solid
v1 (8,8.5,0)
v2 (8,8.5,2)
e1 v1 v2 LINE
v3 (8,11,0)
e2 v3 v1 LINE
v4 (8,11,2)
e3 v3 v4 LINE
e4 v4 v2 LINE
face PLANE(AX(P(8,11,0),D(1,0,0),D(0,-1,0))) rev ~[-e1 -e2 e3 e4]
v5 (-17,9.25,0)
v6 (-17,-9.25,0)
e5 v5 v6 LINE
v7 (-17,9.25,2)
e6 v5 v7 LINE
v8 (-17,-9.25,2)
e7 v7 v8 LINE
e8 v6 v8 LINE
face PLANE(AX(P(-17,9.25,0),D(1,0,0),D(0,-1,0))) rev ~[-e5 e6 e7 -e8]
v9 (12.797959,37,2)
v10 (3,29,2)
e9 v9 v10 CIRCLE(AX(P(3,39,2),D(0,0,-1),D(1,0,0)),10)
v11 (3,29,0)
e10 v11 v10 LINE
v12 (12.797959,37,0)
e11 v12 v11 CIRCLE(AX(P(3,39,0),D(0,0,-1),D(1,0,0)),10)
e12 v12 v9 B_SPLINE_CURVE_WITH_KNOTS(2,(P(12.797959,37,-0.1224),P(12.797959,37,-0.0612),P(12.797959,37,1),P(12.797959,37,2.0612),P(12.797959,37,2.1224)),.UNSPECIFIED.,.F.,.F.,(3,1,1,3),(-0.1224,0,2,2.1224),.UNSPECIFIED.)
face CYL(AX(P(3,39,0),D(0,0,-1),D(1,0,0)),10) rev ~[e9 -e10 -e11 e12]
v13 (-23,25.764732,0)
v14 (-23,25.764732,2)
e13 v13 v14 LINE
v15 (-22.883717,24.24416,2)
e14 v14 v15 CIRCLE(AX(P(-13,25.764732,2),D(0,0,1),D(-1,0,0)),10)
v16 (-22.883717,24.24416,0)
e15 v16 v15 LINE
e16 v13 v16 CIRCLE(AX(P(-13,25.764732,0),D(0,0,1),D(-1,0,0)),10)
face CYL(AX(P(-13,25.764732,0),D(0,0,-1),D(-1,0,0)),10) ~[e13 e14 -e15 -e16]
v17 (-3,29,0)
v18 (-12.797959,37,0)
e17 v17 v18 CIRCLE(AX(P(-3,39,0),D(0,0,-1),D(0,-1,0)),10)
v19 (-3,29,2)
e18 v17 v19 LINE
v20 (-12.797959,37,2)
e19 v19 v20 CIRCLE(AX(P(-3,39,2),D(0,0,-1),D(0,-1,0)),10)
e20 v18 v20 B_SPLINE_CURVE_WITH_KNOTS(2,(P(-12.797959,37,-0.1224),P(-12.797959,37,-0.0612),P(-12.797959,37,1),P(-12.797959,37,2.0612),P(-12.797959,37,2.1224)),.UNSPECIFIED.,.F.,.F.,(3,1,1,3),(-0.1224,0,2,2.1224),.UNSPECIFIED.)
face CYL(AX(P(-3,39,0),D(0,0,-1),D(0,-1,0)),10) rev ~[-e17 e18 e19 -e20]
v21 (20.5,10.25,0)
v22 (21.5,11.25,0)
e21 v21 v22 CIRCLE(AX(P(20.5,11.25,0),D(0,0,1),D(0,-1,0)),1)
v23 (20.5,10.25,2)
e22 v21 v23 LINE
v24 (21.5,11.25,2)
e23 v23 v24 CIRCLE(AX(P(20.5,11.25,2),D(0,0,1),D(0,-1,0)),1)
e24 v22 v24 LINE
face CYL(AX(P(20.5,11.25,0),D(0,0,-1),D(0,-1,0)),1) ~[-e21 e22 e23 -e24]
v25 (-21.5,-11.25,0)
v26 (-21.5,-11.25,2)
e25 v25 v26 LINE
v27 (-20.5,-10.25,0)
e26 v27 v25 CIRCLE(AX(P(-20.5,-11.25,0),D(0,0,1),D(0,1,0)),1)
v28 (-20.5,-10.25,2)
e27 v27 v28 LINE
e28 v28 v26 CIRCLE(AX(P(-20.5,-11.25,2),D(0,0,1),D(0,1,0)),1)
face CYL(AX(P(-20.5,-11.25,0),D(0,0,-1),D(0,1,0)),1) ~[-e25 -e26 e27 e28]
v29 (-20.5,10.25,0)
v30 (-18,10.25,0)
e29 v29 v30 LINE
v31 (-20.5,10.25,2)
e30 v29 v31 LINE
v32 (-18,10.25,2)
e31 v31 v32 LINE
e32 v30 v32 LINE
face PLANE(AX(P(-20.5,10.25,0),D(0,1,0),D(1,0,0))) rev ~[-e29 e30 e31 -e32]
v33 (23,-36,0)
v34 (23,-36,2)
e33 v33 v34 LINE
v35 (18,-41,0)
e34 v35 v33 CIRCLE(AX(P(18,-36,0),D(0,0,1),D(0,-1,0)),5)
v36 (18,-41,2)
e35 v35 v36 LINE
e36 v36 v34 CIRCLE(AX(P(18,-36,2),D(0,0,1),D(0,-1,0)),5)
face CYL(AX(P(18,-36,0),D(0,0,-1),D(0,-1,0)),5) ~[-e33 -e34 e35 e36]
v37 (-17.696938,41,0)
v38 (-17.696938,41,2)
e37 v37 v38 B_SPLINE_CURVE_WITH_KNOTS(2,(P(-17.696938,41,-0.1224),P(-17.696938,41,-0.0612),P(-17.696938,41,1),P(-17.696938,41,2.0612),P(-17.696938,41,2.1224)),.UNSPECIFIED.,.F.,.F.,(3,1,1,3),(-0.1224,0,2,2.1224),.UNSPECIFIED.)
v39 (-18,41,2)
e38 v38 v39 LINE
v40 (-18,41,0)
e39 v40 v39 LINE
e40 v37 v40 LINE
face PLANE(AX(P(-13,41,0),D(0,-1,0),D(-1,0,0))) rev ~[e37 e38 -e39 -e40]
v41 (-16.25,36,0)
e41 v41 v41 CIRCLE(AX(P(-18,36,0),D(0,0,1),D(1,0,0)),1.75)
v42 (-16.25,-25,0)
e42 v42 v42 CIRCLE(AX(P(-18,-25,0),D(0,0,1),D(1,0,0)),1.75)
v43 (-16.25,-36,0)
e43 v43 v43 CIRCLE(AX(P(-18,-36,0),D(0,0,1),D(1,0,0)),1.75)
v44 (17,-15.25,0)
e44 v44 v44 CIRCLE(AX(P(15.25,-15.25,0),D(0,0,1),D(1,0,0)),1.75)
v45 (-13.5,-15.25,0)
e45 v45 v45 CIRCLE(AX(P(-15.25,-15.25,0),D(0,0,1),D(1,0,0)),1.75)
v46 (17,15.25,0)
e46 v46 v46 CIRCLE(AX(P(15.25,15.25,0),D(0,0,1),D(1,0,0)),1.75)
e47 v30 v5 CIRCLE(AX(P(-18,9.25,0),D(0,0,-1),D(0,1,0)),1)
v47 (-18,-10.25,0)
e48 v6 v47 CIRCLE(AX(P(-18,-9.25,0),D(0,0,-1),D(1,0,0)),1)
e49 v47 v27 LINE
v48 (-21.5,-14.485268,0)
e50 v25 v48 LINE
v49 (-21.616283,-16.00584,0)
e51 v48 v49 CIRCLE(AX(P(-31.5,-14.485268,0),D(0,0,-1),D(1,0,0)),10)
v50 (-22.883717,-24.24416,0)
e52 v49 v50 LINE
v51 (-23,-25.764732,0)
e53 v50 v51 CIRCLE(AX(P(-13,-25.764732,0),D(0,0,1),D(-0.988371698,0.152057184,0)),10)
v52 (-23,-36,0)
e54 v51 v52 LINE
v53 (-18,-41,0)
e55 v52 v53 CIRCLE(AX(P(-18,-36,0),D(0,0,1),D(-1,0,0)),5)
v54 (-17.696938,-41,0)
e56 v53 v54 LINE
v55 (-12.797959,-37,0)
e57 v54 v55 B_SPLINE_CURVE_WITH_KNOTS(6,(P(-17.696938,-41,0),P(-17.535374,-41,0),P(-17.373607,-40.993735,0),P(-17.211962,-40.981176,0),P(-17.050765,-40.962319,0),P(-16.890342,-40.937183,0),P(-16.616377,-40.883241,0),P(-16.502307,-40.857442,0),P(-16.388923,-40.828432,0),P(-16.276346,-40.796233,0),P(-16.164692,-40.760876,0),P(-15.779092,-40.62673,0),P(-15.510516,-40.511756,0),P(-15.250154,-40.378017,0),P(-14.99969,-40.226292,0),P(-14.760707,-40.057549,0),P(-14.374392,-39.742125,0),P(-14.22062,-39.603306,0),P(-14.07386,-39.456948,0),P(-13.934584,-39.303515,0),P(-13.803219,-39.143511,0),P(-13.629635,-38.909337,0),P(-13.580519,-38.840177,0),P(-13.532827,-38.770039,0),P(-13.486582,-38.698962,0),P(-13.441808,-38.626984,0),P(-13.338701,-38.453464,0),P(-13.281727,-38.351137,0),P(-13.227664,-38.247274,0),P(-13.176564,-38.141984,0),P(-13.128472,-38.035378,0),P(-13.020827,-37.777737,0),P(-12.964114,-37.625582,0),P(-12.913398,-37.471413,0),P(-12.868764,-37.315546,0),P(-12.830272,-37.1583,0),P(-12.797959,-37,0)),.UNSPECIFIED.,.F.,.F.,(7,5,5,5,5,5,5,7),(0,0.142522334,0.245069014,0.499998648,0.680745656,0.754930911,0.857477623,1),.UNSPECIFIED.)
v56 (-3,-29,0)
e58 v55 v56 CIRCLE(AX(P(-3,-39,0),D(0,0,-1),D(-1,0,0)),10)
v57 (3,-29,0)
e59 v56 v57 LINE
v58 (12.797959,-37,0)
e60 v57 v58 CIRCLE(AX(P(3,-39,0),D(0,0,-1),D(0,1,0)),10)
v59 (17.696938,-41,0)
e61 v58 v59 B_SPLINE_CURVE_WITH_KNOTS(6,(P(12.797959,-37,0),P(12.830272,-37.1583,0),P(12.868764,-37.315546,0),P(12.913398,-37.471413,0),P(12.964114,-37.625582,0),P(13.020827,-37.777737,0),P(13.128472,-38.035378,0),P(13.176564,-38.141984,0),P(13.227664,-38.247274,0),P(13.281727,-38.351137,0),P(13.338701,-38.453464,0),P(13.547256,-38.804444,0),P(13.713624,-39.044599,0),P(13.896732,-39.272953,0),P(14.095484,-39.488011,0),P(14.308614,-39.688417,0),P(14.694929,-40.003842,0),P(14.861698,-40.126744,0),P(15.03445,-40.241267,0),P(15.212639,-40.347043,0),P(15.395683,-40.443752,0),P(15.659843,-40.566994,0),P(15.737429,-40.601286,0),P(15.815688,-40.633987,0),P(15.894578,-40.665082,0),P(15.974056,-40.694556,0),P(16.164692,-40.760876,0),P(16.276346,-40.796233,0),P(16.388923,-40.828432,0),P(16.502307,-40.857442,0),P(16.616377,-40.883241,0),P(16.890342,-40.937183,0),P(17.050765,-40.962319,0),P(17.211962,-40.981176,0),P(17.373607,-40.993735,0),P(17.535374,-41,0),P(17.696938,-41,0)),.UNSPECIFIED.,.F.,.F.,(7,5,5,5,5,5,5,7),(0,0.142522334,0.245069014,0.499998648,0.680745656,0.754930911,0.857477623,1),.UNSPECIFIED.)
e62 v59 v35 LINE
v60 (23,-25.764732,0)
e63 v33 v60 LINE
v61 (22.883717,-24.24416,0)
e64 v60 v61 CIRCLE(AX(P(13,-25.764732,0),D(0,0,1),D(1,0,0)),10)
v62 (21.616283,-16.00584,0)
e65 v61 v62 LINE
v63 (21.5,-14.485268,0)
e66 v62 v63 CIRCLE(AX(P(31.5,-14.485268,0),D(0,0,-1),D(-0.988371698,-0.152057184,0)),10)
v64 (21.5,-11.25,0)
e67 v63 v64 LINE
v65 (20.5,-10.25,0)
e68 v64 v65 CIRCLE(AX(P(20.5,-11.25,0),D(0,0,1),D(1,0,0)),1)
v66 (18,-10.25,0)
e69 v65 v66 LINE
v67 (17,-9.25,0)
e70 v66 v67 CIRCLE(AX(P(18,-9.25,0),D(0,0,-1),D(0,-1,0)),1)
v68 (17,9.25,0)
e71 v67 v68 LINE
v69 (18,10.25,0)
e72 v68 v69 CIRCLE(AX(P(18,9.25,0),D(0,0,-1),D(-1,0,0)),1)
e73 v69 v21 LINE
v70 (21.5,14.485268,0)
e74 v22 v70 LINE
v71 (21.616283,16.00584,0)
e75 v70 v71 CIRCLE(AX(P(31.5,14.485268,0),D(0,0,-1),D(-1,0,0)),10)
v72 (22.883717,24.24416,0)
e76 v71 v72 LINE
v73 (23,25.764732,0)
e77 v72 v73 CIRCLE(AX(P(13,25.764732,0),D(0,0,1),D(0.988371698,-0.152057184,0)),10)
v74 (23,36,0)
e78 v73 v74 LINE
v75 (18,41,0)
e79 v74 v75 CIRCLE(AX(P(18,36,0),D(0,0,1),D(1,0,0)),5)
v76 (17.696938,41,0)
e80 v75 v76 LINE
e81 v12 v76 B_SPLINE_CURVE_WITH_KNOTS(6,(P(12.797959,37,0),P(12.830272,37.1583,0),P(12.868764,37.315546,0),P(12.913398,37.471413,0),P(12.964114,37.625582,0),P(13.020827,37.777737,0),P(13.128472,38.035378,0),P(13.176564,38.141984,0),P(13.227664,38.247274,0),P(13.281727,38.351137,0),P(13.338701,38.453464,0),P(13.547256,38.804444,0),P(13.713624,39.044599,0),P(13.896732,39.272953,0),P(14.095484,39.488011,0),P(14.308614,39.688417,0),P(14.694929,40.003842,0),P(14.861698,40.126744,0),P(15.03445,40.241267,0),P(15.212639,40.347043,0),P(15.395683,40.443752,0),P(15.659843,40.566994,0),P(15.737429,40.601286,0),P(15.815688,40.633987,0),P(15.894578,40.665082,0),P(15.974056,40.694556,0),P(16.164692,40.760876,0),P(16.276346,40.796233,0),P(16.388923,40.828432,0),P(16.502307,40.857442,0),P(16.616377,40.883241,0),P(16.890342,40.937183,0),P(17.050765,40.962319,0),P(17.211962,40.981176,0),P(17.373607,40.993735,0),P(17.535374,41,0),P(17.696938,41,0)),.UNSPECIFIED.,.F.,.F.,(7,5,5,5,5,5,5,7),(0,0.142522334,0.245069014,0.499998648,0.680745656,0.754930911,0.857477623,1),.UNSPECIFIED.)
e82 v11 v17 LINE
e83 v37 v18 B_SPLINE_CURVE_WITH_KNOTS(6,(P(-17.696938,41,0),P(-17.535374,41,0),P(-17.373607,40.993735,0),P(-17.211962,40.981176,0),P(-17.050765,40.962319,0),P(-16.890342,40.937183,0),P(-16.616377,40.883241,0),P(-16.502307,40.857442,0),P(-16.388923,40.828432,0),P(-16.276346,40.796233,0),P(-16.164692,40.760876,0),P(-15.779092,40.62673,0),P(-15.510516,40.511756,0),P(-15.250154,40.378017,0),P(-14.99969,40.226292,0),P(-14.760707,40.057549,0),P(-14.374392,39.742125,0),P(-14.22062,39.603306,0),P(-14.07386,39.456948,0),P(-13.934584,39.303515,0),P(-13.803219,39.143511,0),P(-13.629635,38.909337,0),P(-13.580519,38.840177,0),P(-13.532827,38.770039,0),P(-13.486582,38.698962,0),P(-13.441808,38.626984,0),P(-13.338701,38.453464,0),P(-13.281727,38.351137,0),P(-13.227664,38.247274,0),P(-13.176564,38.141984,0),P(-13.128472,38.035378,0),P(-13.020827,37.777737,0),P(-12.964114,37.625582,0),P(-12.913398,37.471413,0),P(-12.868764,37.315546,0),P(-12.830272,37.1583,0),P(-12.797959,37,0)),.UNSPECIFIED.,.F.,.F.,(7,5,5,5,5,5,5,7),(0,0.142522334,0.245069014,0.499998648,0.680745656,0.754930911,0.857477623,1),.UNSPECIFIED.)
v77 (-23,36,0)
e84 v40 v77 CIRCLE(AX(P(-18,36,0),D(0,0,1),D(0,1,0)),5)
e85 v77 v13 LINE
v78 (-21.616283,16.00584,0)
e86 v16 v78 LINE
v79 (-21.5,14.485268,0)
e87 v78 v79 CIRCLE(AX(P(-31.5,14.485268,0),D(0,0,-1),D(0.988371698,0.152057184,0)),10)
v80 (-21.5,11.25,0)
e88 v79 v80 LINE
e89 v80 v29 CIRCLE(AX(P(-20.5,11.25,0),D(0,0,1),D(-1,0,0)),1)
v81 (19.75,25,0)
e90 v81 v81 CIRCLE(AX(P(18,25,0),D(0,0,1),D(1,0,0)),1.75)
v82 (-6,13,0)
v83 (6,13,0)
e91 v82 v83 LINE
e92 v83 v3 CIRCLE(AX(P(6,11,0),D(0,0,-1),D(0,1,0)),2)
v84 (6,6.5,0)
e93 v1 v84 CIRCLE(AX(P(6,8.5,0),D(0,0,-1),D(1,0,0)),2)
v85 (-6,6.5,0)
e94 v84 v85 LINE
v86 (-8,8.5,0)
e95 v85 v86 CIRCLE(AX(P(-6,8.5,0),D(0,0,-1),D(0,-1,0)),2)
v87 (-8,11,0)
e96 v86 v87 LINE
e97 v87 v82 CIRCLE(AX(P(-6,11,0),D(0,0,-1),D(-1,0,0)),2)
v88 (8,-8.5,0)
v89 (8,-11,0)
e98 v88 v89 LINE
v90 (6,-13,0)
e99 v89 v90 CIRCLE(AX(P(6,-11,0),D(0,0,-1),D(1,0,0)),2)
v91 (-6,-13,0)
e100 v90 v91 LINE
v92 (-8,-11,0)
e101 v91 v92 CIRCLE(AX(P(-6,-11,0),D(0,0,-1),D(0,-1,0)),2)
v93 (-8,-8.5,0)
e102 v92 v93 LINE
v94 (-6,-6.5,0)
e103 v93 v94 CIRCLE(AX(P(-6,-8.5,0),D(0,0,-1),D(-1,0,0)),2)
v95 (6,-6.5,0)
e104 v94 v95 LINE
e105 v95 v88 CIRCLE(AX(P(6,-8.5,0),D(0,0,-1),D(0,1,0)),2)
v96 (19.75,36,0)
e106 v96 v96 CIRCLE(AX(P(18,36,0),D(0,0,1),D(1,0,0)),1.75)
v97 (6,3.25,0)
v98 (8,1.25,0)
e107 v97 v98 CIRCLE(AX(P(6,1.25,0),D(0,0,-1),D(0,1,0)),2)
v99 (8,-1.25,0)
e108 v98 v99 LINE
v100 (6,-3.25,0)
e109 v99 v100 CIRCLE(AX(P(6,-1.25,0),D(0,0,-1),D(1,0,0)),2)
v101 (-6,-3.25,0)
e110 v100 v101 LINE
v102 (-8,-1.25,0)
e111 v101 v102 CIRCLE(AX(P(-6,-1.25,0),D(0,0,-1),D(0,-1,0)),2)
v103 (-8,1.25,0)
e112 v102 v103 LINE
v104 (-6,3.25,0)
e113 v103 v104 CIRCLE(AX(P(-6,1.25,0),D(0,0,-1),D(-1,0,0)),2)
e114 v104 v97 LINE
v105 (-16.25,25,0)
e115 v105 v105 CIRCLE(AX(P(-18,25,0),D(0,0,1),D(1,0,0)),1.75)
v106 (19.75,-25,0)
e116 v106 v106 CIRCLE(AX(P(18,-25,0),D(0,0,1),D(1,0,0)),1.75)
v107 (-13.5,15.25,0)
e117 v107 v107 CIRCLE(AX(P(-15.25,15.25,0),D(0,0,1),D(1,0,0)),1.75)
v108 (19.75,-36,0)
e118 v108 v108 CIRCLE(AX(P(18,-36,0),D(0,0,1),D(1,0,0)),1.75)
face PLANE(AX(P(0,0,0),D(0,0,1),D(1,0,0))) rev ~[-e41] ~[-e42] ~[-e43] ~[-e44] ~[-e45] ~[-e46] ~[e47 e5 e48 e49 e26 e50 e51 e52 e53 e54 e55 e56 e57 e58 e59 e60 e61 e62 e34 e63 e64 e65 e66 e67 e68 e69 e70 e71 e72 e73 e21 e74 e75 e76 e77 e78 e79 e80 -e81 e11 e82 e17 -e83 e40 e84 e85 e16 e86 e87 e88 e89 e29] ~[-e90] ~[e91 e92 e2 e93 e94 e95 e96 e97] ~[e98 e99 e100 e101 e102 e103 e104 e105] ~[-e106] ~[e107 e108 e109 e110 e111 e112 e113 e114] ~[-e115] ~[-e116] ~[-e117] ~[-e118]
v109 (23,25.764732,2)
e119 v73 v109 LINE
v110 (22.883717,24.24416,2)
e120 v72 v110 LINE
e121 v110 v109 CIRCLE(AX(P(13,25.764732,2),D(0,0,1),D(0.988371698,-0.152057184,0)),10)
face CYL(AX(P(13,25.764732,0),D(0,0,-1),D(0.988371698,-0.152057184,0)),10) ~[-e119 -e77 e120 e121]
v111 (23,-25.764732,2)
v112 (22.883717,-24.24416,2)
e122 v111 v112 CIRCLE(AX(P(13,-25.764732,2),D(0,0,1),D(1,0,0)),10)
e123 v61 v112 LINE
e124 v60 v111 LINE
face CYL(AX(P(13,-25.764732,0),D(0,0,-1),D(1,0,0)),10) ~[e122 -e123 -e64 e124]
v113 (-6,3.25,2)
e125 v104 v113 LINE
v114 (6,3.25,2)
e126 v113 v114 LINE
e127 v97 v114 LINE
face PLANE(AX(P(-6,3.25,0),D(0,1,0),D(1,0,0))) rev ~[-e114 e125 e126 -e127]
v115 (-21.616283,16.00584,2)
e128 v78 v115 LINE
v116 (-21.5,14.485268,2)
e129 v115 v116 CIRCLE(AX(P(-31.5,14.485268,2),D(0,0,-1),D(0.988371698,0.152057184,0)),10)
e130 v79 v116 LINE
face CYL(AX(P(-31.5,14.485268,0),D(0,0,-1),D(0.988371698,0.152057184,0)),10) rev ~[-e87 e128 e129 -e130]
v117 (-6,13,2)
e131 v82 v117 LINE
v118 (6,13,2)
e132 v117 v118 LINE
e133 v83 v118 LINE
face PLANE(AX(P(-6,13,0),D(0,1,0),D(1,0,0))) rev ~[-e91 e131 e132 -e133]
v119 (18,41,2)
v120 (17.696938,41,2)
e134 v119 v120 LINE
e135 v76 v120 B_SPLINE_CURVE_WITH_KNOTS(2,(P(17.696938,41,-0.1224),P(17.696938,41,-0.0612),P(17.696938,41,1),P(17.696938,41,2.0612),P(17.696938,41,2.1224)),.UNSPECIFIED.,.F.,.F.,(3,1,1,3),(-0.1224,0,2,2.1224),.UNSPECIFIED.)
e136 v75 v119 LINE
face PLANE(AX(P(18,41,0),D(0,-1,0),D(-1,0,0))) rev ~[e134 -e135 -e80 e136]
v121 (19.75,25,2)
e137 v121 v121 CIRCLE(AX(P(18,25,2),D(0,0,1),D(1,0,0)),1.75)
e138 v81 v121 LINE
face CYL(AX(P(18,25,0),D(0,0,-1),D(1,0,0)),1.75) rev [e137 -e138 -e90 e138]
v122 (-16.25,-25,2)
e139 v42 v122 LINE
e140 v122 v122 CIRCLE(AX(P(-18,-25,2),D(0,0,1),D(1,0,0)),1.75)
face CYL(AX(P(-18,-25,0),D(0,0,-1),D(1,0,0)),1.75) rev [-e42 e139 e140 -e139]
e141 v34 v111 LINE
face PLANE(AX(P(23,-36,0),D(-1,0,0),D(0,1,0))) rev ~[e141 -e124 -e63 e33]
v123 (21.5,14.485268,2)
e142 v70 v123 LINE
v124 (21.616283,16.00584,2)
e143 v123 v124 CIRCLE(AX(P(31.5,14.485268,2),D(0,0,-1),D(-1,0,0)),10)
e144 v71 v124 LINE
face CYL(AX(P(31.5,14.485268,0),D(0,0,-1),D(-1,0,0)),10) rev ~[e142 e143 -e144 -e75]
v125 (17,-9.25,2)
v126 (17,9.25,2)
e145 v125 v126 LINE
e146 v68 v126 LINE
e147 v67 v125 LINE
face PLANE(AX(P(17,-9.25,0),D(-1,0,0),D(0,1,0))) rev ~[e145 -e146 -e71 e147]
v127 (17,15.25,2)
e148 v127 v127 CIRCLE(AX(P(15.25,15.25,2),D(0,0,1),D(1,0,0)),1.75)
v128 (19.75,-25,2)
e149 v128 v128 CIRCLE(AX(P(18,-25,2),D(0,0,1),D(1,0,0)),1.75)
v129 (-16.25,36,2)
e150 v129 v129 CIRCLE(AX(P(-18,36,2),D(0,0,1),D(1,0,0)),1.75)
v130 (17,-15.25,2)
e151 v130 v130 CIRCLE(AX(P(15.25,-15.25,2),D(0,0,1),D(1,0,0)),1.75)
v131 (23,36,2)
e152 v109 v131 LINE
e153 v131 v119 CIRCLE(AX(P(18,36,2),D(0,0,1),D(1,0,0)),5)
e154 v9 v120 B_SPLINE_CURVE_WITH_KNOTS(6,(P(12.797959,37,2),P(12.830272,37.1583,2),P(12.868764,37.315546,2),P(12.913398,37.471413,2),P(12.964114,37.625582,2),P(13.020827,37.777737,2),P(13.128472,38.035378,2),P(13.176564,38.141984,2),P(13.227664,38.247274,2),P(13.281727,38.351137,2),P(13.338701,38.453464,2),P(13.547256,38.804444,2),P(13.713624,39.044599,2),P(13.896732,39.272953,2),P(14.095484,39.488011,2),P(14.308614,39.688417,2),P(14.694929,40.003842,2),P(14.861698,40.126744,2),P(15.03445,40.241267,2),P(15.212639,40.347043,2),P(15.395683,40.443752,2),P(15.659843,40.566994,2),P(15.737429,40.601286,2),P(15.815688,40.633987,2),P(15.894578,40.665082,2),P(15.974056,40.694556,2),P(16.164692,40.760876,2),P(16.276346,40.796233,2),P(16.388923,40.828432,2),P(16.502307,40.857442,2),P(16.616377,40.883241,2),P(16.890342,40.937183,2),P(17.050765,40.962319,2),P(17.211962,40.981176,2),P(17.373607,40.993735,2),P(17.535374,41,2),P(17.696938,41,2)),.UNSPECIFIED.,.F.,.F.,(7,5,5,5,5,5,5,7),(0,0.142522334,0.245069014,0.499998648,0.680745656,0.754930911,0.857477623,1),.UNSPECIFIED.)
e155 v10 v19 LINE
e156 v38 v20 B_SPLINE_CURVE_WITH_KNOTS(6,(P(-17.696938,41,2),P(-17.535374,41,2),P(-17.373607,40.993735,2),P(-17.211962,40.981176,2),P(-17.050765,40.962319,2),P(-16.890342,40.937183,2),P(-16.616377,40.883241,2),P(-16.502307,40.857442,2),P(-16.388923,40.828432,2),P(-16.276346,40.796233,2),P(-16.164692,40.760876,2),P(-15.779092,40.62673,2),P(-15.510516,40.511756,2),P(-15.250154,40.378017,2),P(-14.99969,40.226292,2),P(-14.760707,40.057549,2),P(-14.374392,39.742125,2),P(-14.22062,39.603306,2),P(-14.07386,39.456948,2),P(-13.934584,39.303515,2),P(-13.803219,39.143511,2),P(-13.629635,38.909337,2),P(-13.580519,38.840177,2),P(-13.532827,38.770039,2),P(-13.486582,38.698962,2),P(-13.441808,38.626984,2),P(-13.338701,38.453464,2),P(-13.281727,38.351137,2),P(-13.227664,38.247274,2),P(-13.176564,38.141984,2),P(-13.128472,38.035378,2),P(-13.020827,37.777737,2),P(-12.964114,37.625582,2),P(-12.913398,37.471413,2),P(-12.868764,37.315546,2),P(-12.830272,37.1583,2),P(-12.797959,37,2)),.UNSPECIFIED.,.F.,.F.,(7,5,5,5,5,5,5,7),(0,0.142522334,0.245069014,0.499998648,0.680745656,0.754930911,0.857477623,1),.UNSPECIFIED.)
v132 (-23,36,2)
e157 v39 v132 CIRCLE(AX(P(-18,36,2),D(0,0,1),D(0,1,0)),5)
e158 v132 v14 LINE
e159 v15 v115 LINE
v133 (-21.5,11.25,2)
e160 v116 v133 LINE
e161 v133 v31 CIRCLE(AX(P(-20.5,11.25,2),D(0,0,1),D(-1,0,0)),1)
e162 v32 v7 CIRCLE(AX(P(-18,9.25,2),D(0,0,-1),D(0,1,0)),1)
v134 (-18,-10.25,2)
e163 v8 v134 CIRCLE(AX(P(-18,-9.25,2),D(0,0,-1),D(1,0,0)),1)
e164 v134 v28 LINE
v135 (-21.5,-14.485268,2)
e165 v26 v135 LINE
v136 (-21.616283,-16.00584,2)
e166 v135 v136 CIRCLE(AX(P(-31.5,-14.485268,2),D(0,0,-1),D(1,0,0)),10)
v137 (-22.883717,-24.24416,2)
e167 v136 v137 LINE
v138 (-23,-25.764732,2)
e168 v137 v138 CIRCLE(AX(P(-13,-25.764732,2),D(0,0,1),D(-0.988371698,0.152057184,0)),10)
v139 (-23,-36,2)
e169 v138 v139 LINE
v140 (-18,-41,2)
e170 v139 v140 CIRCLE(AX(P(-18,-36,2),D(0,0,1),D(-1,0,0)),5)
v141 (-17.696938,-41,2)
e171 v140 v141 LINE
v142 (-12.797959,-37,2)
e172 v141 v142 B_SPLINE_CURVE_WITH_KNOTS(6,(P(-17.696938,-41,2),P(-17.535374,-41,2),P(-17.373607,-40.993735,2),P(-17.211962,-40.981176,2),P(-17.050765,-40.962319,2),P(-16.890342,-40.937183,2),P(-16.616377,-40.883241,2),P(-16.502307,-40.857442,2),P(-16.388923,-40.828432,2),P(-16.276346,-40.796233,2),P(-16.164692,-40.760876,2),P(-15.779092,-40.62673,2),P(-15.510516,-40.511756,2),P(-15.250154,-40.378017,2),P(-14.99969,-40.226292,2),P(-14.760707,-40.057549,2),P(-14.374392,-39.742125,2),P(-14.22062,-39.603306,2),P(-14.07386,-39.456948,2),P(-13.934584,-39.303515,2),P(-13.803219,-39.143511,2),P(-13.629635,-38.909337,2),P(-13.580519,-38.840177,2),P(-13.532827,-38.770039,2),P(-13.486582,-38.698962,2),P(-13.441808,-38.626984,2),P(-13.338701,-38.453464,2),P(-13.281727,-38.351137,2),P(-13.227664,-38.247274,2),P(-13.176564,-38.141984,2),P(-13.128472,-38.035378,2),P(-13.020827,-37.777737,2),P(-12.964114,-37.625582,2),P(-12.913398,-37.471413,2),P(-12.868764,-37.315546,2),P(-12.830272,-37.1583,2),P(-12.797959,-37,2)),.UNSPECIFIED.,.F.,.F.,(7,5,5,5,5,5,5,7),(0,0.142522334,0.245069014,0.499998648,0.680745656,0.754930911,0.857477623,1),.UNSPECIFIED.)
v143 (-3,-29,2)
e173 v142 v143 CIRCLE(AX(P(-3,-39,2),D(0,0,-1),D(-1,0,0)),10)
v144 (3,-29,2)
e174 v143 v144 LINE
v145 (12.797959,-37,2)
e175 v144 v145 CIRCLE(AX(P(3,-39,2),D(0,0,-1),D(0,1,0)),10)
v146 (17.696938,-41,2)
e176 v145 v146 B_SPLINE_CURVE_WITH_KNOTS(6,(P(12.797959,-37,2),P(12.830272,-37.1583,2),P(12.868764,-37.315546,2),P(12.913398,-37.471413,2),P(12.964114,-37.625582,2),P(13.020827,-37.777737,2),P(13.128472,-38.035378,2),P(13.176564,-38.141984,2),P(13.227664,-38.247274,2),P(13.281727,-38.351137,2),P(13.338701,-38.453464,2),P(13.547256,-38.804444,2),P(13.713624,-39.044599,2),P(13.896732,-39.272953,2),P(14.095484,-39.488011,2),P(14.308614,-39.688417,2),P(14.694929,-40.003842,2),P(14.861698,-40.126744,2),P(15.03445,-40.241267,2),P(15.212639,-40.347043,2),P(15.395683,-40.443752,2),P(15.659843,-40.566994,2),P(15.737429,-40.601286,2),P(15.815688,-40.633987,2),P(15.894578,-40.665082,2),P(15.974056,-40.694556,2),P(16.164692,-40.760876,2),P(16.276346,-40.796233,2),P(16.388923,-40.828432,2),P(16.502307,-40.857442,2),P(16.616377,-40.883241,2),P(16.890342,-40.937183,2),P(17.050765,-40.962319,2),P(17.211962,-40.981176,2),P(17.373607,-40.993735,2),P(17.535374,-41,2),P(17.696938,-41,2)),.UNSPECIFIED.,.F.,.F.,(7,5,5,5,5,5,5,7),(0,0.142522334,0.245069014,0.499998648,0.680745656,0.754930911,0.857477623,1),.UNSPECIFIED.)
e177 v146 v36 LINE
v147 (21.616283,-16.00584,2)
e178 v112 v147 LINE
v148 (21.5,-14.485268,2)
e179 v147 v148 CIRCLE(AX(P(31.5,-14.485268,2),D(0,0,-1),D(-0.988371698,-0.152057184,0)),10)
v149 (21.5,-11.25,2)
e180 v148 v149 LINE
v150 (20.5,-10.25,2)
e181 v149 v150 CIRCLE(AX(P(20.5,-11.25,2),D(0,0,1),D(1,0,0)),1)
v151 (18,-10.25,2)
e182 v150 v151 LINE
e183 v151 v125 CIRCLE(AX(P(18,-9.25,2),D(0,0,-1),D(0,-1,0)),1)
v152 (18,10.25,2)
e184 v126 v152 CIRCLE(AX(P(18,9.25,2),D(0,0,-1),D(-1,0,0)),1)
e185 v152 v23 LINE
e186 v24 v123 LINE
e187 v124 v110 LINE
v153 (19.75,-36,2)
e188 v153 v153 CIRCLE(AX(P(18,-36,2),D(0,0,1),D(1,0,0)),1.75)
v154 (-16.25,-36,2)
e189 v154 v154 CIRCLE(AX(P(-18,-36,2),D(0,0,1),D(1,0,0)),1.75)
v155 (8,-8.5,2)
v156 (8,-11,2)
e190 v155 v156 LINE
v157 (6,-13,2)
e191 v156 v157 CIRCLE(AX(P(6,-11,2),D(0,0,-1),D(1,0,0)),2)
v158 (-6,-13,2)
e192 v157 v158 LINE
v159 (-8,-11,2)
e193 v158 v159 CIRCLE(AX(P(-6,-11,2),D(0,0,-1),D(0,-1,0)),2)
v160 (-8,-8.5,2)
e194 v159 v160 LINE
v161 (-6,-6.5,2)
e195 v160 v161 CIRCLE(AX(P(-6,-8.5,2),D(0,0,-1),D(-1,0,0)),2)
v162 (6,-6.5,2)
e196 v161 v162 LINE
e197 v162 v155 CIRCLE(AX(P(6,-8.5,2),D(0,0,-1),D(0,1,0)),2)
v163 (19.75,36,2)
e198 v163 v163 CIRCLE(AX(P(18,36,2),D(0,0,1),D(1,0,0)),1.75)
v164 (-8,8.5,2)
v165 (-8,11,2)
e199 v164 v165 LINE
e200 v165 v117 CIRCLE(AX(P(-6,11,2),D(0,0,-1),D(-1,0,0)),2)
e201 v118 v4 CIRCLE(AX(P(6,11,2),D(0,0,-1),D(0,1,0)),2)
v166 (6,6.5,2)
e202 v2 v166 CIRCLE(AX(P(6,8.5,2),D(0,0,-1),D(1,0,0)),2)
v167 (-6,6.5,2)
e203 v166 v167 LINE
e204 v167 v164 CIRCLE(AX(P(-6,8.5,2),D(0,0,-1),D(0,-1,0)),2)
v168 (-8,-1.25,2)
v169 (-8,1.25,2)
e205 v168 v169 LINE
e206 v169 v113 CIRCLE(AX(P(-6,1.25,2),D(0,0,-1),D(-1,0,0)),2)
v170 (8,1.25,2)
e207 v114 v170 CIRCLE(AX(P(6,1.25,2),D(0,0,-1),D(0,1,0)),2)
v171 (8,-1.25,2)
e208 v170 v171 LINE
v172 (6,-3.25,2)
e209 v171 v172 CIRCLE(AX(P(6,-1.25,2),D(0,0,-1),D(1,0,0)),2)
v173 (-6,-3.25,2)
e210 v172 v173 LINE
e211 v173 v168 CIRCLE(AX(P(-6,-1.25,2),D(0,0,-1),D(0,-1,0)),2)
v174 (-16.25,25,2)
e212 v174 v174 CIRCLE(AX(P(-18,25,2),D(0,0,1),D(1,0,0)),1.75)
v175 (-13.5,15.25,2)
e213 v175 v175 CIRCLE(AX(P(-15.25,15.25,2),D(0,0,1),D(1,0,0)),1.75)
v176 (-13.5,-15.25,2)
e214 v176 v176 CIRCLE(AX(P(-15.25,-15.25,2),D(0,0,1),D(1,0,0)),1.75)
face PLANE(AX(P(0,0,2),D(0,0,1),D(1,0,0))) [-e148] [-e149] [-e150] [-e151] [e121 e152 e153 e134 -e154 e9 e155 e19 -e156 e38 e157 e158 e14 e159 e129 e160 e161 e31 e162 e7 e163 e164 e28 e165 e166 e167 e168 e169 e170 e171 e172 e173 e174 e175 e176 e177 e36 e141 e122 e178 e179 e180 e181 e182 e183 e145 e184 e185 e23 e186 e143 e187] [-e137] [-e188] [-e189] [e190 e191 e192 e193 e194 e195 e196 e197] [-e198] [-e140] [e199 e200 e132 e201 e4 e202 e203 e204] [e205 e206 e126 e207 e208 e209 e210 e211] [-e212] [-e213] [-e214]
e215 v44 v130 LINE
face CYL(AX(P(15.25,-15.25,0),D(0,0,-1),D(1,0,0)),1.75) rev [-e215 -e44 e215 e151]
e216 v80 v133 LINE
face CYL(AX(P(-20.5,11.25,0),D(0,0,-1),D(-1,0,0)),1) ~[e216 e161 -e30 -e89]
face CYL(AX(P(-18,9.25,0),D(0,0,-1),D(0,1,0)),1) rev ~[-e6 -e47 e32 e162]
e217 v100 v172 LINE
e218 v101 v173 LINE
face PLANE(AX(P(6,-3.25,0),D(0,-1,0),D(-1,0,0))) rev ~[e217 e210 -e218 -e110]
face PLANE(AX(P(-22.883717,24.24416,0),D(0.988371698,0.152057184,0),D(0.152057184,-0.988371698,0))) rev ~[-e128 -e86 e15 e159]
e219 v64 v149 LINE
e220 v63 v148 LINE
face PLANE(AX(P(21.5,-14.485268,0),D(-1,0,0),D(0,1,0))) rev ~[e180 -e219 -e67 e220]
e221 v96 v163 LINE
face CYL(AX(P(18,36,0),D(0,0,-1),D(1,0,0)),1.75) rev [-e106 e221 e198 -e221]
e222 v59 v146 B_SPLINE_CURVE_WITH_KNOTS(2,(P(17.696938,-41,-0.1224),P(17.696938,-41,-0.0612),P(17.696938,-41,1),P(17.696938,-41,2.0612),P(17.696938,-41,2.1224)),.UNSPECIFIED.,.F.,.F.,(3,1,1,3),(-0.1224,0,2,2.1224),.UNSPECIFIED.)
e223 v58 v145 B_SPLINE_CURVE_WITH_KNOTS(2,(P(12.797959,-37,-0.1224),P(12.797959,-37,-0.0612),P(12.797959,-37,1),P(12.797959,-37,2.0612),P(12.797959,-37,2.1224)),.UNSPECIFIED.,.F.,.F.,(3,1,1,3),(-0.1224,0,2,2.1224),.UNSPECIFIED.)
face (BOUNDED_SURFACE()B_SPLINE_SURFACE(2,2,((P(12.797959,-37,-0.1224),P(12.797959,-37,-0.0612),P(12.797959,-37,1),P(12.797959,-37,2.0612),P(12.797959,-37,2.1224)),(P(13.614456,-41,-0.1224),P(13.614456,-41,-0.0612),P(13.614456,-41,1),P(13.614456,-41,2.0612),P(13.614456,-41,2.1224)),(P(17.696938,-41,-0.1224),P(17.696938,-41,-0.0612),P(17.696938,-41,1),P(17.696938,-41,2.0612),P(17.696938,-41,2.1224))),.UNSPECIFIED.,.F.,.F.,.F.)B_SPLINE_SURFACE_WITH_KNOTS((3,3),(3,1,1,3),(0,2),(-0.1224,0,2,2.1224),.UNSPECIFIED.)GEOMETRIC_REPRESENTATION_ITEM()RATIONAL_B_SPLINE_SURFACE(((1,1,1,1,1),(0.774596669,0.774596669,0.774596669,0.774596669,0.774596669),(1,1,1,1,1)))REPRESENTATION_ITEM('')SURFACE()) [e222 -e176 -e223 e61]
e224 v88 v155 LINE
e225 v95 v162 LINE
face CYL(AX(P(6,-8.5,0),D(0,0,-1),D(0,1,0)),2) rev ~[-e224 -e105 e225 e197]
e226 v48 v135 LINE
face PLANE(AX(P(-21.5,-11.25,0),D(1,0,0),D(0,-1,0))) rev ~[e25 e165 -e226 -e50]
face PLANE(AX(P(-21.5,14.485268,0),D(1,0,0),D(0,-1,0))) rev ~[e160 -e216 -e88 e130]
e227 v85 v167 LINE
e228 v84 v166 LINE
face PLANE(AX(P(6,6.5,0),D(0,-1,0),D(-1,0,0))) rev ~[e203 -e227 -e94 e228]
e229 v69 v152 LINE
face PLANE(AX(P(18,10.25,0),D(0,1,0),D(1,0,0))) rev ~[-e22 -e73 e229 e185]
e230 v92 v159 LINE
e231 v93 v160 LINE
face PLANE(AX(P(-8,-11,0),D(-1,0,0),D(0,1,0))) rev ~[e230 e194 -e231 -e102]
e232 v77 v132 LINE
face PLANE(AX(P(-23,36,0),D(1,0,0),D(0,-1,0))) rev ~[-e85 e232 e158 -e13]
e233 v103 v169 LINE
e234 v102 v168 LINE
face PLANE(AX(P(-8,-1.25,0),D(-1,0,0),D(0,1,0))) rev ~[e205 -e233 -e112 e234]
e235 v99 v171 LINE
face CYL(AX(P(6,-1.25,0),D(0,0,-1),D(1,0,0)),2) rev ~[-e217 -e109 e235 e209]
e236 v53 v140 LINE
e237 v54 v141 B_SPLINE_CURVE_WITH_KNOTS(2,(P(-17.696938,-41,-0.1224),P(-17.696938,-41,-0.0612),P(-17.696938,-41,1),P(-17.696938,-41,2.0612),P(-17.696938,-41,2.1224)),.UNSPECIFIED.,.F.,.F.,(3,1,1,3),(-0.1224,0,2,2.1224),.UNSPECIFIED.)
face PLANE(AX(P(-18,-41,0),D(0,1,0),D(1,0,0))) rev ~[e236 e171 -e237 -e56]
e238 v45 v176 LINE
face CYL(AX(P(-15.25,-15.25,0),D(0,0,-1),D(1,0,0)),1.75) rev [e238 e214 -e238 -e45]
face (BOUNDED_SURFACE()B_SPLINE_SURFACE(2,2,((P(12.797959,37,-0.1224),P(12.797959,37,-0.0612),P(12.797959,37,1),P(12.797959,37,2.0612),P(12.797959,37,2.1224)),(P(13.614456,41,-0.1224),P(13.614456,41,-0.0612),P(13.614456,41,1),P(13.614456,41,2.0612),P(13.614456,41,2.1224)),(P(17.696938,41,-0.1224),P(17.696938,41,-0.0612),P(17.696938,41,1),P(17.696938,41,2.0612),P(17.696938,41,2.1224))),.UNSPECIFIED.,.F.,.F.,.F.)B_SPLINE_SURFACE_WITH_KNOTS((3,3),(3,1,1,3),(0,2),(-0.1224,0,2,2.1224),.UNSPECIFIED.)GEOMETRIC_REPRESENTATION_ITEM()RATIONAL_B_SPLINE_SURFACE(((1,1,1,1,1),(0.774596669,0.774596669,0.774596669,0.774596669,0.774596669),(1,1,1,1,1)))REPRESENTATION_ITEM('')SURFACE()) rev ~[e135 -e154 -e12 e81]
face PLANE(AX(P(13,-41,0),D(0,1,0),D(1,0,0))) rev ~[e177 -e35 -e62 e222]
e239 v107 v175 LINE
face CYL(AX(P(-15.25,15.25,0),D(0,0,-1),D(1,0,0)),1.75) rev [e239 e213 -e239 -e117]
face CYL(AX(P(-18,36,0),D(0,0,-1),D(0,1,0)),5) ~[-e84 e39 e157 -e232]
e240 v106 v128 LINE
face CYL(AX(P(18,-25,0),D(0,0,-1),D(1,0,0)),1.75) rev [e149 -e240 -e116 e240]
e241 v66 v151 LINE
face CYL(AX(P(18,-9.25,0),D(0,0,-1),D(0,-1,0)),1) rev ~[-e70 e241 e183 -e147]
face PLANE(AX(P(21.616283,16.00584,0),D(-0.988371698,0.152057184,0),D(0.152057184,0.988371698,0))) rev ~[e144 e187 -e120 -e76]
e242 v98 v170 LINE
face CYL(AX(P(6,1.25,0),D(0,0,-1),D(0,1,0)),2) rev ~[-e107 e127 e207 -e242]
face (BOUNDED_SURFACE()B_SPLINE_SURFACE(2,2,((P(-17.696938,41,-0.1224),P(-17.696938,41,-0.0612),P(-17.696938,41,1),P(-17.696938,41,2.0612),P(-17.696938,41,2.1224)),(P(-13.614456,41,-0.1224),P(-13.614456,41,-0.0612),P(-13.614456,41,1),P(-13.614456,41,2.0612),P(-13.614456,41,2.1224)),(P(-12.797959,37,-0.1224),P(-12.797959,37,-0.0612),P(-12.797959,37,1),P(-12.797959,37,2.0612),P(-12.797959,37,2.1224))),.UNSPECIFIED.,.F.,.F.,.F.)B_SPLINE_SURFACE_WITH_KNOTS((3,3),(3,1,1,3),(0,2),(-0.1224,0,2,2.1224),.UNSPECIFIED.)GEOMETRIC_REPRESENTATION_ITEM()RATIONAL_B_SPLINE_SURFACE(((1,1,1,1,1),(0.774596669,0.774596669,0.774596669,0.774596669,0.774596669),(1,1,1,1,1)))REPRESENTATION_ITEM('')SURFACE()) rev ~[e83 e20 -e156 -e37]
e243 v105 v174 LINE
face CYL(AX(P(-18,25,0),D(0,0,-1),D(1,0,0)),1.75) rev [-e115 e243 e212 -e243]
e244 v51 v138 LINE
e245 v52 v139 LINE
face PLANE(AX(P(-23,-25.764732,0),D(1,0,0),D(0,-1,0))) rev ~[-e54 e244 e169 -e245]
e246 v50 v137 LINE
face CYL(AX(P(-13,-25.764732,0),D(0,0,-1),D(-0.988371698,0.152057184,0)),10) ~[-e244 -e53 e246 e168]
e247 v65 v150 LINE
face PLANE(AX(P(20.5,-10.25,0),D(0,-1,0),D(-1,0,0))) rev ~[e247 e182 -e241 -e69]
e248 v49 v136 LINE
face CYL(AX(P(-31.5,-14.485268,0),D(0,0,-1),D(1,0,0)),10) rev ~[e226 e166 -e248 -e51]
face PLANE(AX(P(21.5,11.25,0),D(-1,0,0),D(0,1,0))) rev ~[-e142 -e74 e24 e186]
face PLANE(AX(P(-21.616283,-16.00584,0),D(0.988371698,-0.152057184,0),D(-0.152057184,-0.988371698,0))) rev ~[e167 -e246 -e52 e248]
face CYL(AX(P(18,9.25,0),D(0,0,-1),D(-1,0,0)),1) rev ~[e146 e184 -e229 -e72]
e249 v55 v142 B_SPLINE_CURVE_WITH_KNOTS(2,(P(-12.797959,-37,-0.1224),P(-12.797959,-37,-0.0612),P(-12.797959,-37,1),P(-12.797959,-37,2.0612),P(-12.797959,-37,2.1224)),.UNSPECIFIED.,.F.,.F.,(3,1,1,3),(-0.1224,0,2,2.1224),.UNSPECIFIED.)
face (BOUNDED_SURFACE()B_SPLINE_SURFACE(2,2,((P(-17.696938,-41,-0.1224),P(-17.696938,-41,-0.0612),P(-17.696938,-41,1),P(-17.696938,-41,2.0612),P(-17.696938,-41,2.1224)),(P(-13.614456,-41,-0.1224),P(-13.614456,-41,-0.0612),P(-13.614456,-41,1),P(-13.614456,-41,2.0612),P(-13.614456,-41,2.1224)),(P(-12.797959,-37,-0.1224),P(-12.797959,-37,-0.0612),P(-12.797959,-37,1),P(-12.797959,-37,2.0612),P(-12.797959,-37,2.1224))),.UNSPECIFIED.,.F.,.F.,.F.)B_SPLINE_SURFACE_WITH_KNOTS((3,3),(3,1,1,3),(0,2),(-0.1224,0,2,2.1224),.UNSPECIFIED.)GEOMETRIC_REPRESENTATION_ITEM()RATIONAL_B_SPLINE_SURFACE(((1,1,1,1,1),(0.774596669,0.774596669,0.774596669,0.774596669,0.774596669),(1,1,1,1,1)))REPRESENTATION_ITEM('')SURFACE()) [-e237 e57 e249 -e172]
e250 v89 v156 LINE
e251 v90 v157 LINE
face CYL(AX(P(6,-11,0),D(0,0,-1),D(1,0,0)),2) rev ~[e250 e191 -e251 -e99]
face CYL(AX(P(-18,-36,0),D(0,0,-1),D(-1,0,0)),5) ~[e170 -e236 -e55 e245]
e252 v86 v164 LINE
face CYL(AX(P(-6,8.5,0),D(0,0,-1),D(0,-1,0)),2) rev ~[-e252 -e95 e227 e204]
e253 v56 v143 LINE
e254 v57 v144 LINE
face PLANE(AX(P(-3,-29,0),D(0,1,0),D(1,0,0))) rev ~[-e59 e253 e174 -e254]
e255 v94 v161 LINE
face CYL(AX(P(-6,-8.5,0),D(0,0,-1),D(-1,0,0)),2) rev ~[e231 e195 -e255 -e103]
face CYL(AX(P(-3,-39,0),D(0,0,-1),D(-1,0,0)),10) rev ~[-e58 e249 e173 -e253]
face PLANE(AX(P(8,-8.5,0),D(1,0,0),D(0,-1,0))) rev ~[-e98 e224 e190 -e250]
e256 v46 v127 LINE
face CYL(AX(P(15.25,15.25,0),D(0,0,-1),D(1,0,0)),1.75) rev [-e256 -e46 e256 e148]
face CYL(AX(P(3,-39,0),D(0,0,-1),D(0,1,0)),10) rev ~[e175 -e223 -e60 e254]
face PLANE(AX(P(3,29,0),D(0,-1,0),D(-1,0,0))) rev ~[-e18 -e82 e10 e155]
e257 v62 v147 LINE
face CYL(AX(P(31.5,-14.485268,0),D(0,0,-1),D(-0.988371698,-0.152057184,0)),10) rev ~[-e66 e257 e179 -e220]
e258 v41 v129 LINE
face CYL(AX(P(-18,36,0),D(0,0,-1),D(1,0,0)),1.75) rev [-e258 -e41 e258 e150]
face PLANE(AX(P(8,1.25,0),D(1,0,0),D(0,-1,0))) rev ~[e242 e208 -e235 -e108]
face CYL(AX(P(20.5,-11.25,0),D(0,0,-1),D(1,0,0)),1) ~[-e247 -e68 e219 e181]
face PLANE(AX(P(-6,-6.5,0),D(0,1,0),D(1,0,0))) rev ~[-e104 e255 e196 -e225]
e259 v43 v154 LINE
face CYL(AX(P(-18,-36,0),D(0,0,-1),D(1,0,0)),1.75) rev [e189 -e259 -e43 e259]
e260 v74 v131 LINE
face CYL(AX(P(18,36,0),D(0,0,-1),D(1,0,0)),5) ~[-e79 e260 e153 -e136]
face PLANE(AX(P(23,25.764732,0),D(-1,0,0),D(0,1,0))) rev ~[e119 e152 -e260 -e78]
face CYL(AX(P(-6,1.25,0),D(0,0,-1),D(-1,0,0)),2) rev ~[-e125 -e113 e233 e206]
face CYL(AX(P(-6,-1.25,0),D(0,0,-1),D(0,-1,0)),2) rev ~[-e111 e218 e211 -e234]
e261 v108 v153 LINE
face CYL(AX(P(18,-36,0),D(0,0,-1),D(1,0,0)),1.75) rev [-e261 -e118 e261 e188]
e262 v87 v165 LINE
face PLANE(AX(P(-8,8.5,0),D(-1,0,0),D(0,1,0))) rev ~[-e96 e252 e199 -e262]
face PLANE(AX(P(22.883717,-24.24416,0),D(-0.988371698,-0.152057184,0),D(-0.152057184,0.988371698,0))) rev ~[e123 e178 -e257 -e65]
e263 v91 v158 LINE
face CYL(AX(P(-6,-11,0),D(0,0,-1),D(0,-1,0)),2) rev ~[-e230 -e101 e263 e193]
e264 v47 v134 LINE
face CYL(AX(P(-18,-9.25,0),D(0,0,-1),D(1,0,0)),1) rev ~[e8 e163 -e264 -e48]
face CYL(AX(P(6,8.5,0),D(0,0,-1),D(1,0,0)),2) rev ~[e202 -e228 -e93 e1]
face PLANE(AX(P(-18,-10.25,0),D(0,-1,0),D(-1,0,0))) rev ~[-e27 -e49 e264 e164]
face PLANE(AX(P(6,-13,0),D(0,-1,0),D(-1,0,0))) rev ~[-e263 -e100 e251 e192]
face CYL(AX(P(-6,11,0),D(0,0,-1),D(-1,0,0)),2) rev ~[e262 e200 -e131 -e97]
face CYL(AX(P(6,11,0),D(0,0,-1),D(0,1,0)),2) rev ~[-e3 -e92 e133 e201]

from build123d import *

# Parameters (mm, degrees)
F0_R     = 1.75
F1_DEPTH = 2
F2_R     = 5


with BuildPart() as f1:
    # F0 (on Top) → F1 (new body)
    with BuildSketch(Plane.XY):
        with BuildLine():
            Line((-13, 41), (-18, 41))
            ThreePointArc((-18, 41), (-21.5355339059, 39.5355339059), (-23, 36))
            Line((-23, 36), (-23, 25.7647321898))
            ThreePointArc((-23, 25.7647321898), (-22.9708868654, 25.0022263751), (-22.8837169765, 24.2441603473))
            Line((-22.8837169765, 24.2441603473), (-21.6162830235, 16.0058396527))
            ThreePointArc((-21.6162830235, 16.0058396527), (-21.5291131346, 15.2477736249), (-21.5, 14.4852678102))
            Line((-21.5, 14.4852678102), (-21.5, 11.25))
            ThreePointArc((-21.5, 11.25), (-21.2071067812, 10.5428932188), (-20.5, 10.25))
            Line((-20.5, 10.25), (-18, 10.25))
            ThreePointArc((-18, 10.25), (-17.2928932188, 9.9571067812), (-17, 9.25))
            Line((-17, 9.25), (-17, -9.25))
            ThreePointArc((-17, -9.25), (-17.2928932188, -9.9571067812), (-18, -10.25))
            Line((-18, -10.25), (-20.5, -10.25))
            ThreePointArc((-20.5, -10.25), (-21.2071067812, -10.5428932188), (-21.5, -11.25))
            Line((-21.5, -11.25), (-21.5, -14.4852678102))
            ThreePointArc((-21.5, -14.4852678102), (-21.5291131346, -15.2477736249), (-21.6162830235, -16.0058396527))
            Line((-21.6162830235, -16.0058396527), (-22.8837169765, -24.2441603473))
            ThreePointArc((-22.8837169765, -24.2441603473), (-22.9708868654, -25.0022263751), (-23, -25.7647321898))
            Line((-23, -25.7647321898), (-23, -36))
            ThreePointArc((-23, -36), (-21.5355339059, -39.5355339059), (-18, -41))
            Line((-18, -41), (-13, -41))
            Line((-13, -41), (-13, -39))
            ThreePointArc((-13, -39), (-10.0710678119, -31.9289321881), (-3, -29))
            Line((-3, -29), (0, -29))
            Line((0, -29), (3, -29))
            ThreePointArc((3, -29), (10.0710678119, -31.9289321881), (13, -39))
            Line((13, -39), (13, -41))
            Line((13, -41), (18, -41))
            ThreePointArc((18, -41), (21.5355339059, -39.5355339059), (23, -36))
            Line((23, -36), (23, -25.7647321898))
            ThreePointArc((23, -25.7647321898), (22.9708868654, -25.0022263751), (22.8837169765, -24.2441603473))
            Line((22.8837169765, -24.2441603473), (21.6162830235, -16.0058396527))
            ThreePointArc((21.6162830235, -16.0058396527), (21.5291131346, -15.2477736249), (21.5, -14.4852678102))
            Line((21.5, -14.4852678102), (21.5, -11.25))
            ThreePointArc((21.5, -11.25), (21.2071067812, -10.5428932188), (20.5, -10.25))
            Line((20.5, -10.25), (18, -10.25))
            ThreePointArc((18, -10.25), (17.2928932188, -9.9571067812), (17, -9.25))
            Line((17, -9.25), (17, 9.25))
            ThreePointArc((17, 9.25), (17.2928932188, 9.9571067812), (18, 10.25))
            Line((18, 10.25), (20.5, 10.25))
            ThreePointArc((20.5, 10.25), (21.2071067812, 10.5428932188), (21.5, 11.25))
            Line((21.5, 11.25), (21.5, 14.4852678102))
            ThreePointArc((21.5, 14.4852678102), (21.5291131346, 15.2477736249), (21.6162830235, 16.0058396527))
            Line((21.6162830235, 16.0058396527), (22.8837169765, 24.2441603473))
            ThreePointArc((22.8837169765, 24.2441603473), (22.9708868654, 25.0022263751), (23, 25.7647321898))
            Line((23, 25.7647321898), (23, 36))
            ThreePointArc((23, 36), (21.5355339059, 39.5355339059), (18, 41))
            Line((18, 41), (13, 41))
            Line((13, 41), (13, 39))
            ThreePointArc((13, 39), (10.0710678119, 31.9289321881), (3, 29))
            Line((3, 29), (0, 29))
            Line((0, 29), (-3, 29))
            ThreePointArc((-3, 29), (-10.0710678119, 31.9289321881), (-13, 39))
            Line((-13, 39), (-13, 41))
        make_face()
        with Locations((-18, -36)):
            Circle(F0_R, mode=Mode.SUBTRACT)
        with Locations((-18, -25)):
            Circle(F0_R, mode=Mode.SUBTRACT)
        with Locations((-15.25, -15.25)):
            Circle(F0_R, mode=Mode.SUBTRACT)
        with Locations((18, -36)):
            Circle(F0_R, mode=Mode.SUBTRACT)
        with Locations((18, -25)):
            Circle(F0_R, mode=Mode.SUBTRACT)
        with BuildLine():
            Line((6, -13), (-6, -13))
            ThreePointArc((-6, -13), (-7.4142135624, -12.4142135624), (-8, -11))
            Line((-8, -11), (-8, -8.5))
            ThreePointArc((-8, -8.5), (-7.4142135624, -7.0857864376), (-6, -6.5))
            Line((-6, -6.5), (6, -6.5))
            ThreePointArc((6, -6.5), (7.4142135624, -7.0857864376), (8, -8.5))
            Line((8, -8.5), (8, -11))
            ThreePointArc((8, -11), (7.4142135624, -12.4142135624), (6, -13))
        make_face(mode=Mode.SUBTRACT)
        with Locations((15.25, -15.25)):
            Circle(F0_R, mode=Mode.SUBTRACT)
        with Locations((-15.25, 15.25)):
            Circle(F0_R, mode=Mode.SUBTRACT)
        with Locations((-18, 25)):
            Circle(F0_R, mode=Mode.SUBTRACT)
        with Locations((-18, 36)):
            Circle(F0_R, mode=Mode.SUBTRACT)
        with BuildLine():
            ThreePointArc((-8, 1.25), (-7.4142135624, 2.6642135624), (-6, 3.25))
            Line((-6, 3.25), (6, 3.25))
            ThreePointArc((6, 3.25), (7.4142135624, 2.6642135624), (8, 1.25))
            Line((8, 1.25), (8, -1.25))
            ThreePointArc((8, -1.25), (7.4142135624, -2.6642135624), (6, -3.25))
            Line((6, -3.25), (-6, -3.25))
            ThreePointArc((-6, -3.25), (-7.4142135624, -2.6642135624), (-8, -1.25))
            Line((-8, -1.25), (-8, 1.25))
        make_face(mode=Mode.SUBTRACT)
        with BuildLine():
            ThreePointArc((-8, 11), (-7.4142135624, 12.4142135624), (-6, 13))
            Line((-6, 13), (6, 13))
            ThreePointArc((6, 13), (7.4142135624, 12.4142135624), (8, 11))
            Line((8, 11), (8, 8.5))
            ThreePointArc((8, 8.5), (7.4142135624, 7.0857864376), (6, 6.5))
            Line((6, 6.5), (-6, 6.5))
            ThreePointArc((-6, 6.5), (-7.4142135624, 7.0857864376), (-8, 8.5))
            Line((-8, 8.5), (-8, 11))
        make_face(mode=Mode.SUBTRACT)
        with Locations((15.25, 15.25)):
            Circle(F0_R, mode=Mode.SUBTRACT)
        with Locations((18, 25)):
            Circle(F0_R, mode=Mode.SUBTRACT)
        with Locations((18, 36)):
            Circle(F0_R, mode=Mode.SUBTRACT)
    extrude(amount=F1_DEPTH)

    # F2
    f2_edges = [f1.edges().sort_by_distance(p)[0] for p in [
        (-13, -41, 1),
        (13, -41, 1),
        (-13, 41, 1),
        (13, 41, 1),
    ]]
    fillet(f2_edges, radius=F2_R)


solid = f1.part
